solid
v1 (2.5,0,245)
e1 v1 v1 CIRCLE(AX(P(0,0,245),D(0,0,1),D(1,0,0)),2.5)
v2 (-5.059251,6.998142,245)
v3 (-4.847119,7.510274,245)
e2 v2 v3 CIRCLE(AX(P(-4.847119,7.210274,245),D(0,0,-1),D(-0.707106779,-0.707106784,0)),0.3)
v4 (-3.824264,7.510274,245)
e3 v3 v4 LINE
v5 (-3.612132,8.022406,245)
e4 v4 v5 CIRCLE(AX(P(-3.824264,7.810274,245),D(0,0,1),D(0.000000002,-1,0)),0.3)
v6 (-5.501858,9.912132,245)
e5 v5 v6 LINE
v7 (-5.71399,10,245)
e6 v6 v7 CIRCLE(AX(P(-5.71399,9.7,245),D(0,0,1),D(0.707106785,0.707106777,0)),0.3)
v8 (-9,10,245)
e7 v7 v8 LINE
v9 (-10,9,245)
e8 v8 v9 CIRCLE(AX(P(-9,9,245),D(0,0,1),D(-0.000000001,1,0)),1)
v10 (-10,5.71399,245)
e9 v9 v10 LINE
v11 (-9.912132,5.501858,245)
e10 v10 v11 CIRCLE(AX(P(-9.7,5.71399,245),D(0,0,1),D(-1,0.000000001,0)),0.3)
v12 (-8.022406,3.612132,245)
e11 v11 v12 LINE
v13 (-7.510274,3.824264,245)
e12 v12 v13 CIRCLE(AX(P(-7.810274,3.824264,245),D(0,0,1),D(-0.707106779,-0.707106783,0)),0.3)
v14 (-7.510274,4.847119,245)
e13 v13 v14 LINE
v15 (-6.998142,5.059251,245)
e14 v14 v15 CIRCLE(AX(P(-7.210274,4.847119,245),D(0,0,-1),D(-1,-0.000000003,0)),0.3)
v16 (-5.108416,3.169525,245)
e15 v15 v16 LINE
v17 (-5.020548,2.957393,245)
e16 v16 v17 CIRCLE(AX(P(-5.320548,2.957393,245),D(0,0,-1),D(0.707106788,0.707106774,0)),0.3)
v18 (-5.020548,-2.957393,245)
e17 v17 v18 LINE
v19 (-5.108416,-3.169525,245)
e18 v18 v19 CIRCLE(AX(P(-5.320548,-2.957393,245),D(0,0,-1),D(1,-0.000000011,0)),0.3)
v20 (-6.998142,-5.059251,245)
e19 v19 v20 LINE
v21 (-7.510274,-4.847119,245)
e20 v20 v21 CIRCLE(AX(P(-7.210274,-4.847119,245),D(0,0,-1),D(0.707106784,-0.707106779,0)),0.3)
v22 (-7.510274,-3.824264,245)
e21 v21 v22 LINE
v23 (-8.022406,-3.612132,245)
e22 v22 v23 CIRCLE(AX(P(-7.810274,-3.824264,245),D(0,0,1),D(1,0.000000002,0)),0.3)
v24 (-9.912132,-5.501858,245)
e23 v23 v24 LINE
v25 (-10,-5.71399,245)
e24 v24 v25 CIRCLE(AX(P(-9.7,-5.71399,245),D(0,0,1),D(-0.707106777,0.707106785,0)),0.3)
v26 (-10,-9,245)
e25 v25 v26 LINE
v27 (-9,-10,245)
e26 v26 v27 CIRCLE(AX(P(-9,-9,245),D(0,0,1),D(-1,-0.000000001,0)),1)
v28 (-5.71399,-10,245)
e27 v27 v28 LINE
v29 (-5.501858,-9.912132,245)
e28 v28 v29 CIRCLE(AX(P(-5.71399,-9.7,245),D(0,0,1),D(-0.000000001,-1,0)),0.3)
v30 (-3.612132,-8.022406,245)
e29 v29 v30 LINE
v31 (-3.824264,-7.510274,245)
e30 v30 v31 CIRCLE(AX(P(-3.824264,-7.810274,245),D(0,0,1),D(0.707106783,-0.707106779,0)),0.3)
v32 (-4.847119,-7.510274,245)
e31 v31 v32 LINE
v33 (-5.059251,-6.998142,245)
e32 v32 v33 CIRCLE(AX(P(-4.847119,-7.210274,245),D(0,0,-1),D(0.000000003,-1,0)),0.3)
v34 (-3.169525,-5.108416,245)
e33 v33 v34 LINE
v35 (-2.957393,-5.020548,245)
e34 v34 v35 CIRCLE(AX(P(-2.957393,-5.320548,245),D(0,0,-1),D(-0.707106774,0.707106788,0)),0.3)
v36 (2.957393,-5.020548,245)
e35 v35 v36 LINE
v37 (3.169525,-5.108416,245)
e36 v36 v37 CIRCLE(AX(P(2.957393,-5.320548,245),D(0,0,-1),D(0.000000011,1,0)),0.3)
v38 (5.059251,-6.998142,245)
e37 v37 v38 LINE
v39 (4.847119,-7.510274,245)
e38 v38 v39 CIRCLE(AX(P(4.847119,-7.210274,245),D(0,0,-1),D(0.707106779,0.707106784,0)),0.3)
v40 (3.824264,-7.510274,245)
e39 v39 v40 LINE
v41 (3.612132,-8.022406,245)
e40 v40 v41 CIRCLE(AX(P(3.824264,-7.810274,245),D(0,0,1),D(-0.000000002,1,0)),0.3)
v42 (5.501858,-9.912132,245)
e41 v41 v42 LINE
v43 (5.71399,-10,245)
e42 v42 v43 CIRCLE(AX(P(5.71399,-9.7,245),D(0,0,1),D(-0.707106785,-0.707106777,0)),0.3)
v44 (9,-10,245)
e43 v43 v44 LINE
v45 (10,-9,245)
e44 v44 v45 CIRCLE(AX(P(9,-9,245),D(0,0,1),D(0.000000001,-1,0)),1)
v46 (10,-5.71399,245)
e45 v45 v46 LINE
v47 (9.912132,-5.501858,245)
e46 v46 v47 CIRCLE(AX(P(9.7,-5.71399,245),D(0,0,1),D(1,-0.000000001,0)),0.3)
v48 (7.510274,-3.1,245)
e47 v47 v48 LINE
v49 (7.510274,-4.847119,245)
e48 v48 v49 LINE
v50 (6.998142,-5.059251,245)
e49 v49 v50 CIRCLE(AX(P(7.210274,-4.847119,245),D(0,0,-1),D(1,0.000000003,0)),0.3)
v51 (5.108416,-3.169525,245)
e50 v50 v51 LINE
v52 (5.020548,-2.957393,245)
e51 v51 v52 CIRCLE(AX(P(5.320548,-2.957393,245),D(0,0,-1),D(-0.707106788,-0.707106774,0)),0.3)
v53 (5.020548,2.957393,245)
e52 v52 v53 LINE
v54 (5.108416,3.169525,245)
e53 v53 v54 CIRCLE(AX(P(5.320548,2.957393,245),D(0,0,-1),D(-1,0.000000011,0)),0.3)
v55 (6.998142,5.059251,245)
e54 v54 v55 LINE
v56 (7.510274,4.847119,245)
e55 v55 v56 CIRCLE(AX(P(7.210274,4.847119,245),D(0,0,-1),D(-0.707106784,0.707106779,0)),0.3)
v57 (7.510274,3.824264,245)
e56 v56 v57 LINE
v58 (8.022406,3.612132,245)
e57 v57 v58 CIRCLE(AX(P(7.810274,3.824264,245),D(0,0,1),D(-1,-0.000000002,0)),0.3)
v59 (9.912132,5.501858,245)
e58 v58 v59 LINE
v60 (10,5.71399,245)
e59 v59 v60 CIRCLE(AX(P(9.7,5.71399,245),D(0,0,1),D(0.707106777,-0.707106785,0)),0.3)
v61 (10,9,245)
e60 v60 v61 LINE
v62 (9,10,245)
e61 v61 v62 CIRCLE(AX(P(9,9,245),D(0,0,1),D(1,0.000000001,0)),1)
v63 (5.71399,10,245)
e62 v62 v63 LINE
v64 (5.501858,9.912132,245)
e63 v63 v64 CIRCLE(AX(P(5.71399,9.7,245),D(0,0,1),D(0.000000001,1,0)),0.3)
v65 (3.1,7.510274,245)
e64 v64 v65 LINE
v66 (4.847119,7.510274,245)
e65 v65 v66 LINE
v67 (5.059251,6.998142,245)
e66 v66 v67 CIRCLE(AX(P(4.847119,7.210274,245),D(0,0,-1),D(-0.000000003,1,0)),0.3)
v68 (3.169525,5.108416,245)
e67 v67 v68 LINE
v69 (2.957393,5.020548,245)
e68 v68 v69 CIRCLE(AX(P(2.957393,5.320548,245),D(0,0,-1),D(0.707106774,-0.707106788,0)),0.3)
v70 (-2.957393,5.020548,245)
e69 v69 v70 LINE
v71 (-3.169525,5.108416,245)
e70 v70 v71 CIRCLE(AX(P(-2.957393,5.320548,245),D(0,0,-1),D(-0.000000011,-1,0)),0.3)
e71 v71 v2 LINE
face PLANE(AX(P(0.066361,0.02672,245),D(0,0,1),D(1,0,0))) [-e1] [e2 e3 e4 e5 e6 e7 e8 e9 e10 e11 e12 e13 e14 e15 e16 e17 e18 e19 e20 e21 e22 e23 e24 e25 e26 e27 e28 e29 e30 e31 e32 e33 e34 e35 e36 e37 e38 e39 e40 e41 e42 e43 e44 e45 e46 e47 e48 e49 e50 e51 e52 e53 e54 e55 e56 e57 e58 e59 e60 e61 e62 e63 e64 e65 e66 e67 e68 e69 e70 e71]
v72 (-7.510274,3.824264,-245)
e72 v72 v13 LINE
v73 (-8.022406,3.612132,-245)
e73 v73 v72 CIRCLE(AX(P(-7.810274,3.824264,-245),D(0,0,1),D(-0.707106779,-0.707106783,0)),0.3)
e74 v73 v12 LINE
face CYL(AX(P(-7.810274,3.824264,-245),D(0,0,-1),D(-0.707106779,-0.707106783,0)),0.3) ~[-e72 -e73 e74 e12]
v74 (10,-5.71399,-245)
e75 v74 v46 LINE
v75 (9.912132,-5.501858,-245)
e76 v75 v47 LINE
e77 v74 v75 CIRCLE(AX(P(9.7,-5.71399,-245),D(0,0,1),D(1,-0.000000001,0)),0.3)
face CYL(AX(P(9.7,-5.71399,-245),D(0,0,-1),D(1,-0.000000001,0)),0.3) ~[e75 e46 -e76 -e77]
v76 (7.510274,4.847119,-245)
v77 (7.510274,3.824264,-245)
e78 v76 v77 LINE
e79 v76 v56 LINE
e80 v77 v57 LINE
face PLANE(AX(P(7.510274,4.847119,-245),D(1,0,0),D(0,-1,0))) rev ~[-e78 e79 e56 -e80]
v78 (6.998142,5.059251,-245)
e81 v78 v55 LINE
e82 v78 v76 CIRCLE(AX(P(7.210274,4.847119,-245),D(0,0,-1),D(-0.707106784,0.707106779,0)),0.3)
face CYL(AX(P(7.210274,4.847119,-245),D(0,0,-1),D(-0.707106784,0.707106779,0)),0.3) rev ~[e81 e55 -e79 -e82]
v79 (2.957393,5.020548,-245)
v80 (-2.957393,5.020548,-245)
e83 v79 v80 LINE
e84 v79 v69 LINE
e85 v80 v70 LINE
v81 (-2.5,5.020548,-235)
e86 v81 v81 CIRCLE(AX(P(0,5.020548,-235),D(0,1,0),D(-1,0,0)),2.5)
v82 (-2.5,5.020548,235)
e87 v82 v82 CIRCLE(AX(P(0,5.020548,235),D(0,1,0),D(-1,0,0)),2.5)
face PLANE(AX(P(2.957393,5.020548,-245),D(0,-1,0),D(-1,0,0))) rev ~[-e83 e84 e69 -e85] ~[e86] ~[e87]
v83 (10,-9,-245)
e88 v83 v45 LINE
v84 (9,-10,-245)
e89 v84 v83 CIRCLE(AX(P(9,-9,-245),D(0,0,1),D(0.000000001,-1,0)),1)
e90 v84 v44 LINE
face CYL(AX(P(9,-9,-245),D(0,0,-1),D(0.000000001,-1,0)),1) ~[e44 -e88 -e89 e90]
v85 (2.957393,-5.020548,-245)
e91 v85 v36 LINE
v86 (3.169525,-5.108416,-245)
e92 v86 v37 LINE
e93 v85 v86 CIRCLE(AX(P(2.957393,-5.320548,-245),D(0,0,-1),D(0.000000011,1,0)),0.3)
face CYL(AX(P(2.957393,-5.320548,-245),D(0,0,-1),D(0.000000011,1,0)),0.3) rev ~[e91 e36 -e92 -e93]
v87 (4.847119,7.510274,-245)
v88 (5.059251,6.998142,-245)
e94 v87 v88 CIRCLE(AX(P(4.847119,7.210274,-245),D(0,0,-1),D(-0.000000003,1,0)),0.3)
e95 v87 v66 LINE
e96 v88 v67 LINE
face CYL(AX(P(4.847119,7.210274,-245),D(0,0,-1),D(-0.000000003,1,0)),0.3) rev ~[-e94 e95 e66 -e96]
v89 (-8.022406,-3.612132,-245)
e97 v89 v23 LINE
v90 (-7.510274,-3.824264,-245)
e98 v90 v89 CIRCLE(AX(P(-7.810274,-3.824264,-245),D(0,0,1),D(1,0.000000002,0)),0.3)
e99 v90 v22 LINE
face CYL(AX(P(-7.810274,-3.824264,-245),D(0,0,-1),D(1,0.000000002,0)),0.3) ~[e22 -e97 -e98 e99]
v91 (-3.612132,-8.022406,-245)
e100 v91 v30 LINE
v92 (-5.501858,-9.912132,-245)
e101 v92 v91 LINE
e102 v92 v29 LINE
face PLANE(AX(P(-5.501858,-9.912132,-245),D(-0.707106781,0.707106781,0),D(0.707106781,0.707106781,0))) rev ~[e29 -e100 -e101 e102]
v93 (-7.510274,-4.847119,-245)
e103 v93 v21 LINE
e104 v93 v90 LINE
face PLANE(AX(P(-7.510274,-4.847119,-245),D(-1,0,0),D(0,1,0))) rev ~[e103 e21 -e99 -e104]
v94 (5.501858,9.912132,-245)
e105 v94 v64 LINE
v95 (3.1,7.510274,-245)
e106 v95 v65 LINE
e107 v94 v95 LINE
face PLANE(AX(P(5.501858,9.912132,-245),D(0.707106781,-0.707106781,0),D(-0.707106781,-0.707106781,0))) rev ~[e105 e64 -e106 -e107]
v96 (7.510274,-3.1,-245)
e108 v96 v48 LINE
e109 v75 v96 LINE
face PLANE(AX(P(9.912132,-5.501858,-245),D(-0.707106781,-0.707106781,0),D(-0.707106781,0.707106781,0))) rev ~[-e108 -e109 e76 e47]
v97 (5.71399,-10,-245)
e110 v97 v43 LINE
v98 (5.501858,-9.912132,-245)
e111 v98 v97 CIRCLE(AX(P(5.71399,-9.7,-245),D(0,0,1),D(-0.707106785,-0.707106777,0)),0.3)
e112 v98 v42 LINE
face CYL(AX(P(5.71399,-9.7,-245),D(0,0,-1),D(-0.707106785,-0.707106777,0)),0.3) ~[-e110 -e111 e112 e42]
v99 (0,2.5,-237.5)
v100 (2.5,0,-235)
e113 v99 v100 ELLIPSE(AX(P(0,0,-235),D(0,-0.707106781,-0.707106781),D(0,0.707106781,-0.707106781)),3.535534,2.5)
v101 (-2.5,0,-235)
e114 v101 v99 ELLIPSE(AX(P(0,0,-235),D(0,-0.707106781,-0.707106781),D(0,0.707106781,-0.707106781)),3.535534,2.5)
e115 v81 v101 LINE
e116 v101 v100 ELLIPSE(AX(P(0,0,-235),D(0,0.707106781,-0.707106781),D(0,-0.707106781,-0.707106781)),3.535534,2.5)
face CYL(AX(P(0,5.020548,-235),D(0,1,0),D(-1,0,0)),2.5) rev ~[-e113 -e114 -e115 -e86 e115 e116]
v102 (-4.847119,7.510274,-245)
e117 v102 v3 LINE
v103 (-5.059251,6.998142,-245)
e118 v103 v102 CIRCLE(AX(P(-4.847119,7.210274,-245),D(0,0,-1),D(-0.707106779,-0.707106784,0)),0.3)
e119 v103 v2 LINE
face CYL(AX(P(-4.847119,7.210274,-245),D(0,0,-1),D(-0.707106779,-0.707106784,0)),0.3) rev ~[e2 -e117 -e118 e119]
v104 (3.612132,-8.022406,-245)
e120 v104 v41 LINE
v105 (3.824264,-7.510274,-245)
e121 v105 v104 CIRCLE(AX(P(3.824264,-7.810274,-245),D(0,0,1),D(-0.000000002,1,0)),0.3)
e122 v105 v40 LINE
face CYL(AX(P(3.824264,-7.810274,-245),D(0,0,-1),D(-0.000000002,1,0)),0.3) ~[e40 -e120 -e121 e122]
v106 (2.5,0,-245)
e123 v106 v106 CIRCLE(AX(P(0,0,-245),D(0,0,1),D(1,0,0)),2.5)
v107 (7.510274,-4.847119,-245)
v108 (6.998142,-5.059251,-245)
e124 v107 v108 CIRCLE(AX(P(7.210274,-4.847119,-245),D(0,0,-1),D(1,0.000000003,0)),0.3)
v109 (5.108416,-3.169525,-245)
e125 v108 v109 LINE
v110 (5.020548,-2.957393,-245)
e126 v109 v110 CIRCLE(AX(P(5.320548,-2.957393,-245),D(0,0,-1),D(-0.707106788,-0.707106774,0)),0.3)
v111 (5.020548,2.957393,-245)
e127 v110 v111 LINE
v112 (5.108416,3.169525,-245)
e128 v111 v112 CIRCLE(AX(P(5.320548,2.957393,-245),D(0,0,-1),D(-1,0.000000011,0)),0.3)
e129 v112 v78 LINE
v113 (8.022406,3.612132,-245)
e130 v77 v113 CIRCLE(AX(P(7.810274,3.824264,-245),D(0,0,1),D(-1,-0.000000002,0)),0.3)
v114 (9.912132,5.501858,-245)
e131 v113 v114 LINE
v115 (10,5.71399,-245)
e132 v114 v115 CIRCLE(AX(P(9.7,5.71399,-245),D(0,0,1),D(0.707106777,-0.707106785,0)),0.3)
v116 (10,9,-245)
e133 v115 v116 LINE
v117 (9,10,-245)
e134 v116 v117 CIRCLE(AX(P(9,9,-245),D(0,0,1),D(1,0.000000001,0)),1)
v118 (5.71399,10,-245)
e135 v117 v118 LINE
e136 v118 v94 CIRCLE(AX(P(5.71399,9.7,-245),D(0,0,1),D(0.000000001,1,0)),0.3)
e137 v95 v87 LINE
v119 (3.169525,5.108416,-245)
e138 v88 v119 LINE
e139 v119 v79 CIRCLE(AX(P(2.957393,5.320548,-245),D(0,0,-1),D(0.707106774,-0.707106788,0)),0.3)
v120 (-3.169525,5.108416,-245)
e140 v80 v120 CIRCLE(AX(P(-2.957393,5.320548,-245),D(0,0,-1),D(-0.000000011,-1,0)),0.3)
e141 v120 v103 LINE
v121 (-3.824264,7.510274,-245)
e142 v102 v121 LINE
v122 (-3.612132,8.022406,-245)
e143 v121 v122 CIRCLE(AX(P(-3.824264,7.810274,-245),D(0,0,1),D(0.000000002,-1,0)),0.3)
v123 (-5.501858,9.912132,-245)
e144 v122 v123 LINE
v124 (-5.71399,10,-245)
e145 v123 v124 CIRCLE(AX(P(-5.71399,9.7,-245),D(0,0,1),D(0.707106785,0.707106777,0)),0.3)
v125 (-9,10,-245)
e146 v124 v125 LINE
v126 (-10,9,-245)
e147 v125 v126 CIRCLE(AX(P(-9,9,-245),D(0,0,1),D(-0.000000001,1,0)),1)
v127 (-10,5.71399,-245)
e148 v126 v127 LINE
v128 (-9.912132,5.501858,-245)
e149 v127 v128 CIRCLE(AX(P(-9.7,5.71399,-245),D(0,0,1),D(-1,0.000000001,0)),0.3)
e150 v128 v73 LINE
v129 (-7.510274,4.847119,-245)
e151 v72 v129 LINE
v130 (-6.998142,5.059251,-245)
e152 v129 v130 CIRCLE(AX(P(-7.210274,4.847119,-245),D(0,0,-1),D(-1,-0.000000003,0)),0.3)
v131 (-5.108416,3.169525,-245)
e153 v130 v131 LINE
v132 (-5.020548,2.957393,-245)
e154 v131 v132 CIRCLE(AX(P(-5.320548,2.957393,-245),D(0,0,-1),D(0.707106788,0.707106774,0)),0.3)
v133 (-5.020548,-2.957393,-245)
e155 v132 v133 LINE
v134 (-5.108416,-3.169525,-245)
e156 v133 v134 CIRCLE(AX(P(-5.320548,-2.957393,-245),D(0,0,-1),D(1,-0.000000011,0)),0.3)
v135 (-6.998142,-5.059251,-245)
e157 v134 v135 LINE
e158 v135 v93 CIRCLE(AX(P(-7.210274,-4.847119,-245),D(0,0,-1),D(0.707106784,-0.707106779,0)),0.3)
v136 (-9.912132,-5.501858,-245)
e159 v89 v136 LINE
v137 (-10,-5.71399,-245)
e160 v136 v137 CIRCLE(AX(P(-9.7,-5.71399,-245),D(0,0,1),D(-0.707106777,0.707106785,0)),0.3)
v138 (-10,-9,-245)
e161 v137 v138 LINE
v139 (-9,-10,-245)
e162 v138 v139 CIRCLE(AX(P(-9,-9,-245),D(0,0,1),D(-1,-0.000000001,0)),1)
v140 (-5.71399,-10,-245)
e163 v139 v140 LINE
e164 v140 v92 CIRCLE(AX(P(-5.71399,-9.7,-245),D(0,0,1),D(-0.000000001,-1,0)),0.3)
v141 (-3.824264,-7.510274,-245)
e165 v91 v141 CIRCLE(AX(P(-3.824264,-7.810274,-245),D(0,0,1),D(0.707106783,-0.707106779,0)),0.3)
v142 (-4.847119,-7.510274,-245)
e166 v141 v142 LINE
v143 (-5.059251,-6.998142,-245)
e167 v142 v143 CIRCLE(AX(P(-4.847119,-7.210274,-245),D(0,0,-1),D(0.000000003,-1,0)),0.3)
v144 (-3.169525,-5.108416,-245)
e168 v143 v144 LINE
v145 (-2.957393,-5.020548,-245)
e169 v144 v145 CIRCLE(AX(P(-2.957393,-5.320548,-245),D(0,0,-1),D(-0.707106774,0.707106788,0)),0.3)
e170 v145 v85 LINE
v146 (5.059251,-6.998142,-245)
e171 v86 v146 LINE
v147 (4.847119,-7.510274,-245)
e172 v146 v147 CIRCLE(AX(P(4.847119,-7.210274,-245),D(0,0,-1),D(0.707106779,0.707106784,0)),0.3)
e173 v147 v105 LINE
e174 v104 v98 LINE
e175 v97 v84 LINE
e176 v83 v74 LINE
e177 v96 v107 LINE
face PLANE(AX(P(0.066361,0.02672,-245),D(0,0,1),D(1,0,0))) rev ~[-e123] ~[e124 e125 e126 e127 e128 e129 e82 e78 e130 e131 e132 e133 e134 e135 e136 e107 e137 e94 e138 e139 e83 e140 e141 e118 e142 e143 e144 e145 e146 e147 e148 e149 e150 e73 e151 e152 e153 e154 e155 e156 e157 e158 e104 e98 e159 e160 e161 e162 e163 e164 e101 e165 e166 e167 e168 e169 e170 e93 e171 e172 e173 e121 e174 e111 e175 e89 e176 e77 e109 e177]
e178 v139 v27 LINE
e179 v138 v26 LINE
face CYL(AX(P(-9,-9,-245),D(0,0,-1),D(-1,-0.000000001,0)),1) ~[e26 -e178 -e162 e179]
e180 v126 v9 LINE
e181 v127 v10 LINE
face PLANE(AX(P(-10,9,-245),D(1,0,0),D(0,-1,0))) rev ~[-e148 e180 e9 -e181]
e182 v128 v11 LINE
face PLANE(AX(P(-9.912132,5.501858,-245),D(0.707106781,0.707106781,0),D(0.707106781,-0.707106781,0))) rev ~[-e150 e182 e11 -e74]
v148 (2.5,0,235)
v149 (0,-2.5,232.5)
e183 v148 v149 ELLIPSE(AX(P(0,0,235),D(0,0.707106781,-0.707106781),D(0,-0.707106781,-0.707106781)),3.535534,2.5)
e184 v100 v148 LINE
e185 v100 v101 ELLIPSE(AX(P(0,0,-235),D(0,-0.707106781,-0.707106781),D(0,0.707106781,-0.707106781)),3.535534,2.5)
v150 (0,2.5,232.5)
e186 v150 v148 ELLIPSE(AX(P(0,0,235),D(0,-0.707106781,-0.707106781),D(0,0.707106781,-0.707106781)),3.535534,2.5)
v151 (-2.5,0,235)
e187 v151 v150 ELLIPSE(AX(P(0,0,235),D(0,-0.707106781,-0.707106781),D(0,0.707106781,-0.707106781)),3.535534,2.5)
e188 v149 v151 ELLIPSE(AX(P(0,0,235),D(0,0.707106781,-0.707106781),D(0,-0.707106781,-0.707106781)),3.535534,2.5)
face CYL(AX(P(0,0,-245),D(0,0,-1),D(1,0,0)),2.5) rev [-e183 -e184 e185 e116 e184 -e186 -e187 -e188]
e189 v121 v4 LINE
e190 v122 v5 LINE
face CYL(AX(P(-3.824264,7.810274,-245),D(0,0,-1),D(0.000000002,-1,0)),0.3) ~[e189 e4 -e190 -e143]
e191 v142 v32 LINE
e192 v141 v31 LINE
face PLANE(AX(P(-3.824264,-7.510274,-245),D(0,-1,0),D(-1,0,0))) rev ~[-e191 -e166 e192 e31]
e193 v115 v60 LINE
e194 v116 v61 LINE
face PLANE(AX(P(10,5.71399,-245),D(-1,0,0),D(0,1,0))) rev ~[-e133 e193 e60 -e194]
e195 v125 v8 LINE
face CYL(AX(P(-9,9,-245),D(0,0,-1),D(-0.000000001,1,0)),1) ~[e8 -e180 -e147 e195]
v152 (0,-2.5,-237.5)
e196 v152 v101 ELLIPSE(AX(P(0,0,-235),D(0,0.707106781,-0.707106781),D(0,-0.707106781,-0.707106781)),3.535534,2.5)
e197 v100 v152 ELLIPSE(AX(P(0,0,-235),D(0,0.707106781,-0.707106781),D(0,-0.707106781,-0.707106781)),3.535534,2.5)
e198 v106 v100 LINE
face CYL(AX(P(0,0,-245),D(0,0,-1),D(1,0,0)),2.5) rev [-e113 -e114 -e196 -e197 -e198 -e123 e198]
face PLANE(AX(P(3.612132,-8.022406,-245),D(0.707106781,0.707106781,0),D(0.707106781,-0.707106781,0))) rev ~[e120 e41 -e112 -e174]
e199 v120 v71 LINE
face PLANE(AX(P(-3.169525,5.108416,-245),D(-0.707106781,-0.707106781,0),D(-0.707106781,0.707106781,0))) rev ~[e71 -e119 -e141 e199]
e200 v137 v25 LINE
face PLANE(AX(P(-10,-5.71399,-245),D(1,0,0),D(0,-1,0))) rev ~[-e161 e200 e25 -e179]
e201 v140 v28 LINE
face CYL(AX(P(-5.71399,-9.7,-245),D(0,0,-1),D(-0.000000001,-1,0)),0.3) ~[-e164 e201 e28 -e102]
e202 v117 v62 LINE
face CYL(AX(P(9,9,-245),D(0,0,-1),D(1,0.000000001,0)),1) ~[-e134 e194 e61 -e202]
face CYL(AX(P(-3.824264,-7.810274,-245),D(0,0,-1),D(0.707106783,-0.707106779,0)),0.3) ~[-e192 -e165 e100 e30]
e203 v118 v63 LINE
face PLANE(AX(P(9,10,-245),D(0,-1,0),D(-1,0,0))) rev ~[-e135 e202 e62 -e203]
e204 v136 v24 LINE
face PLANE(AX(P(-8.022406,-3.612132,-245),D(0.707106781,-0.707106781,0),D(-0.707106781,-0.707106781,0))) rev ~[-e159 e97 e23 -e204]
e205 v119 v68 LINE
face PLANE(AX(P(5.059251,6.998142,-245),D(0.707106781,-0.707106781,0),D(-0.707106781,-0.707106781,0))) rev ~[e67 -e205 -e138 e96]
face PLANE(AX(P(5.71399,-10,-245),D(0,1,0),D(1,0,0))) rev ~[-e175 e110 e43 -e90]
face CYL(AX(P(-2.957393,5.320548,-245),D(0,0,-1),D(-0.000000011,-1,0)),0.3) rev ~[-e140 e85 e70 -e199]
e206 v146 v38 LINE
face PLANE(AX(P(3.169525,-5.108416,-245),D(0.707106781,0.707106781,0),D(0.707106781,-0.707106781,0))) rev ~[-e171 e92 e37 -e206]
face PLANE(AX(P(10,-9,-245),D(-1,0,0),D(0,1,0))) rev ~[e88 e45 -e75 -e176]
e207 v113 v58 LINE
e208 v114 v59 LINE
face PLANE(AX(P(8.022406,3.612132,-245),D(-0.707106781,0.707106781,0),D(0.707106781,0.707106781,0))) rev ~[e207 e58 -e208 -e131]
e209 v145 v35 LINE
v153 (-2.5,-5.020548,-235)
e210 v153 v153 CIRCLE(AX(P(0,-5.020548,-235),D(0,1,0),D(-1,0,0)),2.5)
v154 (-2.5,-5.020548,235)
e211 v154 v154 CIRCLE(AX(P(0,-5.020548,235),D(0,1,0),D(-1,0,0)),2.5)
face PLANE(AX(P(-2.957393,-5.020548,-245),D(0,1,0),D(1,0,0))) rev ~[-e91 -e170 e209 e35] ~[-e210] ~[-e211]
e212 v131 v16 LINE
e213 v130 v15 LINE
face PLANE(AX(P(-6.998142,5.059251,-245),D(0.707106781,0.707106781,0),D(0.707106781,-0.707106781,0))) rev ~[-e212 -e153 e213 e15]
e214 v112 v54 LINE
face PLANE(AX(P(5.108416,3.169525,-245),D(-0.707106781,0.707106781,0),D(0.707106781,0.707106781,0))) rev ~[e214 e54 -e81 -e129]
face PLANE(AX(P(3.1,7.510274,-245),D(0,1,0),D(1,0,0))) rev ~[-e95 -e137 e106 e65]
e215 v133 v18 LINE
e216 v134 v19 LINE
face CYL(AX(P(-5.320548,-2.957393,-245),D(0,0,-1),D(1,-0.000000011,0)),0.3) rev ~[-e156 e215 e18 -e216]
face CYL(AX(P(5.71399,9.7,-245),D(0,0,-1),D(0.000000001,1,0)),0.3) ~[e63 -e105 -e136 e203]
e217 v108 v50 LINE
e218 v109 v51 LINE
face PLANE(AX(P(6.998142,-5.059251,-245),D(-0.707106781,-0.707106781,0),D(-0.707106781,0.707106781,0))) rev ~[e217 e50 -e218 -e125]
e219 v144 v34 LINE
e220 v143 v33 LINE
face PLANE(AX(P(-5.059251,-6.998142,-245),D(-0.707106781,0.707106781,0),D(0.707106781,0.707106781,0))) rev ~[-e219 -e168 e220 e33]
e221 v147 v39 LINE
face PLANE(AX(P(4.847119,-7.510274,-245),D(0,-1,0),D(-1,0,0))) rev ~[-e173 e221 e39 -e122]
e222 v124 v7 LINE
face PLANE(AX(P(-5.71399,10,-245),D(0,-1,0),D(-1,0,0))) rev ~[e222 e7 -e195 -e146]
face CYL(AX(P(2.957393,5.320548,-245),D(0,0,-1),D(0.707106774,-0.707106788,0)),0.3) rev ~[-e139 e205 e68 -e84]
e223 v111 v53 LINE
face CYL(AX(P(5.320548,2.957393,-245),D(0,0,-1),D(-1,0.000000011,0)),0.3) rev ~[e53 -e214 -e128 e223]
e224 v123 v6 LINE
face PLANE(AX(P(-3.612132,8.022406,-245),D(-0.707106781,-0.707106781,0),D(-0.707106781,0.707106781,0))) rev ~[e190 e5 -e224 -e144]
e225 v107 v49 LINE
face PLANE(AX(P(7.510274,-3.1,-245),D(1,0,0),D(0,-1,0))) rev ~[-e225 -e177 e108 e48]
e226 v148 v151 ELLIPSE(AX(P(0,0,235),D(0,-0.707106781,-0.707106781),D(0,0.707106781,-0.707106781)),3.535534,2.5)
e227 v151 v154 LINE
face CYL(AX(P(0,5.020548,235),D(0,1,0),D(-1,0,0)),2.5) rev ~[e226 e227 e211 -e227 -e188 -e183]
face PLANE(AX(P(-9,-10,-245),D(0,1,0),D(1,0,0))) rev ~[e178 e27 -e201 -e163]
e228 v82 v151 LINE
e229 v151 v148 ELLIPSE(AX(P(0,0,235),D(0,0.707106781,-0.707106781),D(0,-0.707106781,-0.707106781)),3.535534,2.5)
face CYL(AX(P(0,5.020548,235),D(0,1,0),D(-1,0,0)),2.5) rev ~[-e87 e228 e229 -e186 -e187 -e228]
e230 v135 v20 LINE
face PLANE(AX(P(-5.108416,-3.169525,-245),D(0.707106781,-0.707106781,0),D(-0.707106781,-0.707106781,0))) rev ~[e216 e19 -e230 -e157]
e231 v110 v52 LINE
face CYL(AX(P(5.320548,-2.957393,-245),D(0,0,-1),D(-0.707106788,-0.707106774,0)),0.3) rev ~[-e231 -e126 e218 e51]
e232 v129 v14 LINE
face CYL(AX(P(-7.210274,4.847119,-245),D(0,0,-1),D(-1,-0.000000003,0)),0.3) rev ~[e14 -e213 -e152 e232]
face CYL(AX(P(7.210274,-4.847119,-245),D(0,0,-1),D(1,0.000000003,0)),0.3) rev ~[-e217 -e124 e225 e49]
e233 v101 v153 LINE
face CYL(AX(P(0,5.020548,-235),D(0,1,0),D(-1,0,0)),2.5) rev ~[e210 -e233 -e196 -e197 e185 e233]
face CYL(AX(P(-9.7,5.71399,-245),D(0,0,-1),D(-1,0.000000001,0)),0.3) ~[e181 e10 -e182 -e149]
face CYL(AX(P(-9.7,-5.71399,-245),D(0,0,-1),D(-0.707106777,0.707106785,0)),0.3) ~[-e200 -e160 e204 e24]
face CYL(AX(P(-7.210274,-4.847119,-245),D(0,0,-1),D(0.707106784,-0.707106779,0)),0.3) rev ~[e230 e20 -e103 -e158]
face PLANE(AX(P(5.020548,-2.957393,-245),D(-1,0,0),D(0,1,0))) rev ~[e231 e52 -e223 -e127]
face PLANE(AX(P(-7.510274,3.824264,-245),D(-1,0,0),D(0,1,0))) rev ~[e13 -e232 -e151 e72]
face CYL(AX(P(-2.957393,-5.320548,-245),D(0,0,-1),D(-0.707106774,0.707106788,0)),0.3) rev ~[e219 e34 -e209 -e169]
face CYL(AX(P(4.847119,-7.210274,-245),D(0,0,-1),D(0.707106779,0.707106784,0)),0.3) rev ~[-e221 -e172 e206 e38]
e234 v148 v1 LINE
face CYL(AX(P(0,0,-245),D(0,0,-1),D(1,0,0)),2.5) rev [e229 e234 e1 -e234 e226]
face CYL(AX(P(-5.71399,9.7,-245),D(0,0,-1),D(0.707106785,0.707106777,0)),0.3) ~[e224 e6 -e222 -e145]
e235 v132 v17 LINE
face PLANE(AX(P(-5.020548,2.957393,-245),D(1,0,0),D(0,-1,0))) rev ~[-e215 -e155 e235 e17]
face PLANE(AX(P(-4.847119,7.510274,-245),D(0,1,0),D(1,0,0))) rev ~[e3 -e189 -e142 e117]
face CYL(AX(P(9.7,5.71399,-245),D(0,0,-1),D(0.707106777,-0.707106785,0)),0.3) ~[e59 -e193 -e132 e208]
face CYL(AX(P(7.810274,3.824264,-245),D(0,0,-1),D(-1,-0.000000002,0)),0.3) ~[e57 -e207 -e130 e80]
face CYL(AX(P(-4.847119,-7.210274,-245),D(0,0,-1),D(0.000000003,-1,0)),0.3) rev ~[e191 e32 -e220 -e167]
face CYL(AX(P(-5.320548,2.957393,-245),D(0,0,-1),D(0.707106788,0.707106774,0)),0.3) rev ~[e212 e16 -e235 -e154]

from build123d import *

# Parameters (mm, degrees)
CROQUIS11_R                = 2.5
MIEMBRO_ESTRUCTURAL1_DEPTH = 490
CROQUIS12_R                = 2.5
CORTAR_EXTRUIR1_DEPTH      = 12


with BuildPart() as part:
    # Croquis11 → Miembro estructural1 (new body)
    with BuildSketch(Plane.XY.offset(-245)):
        with BuildLine():
            Line((-9, -10), (-5.713990218, -10))
            ThreePointArc((-5.713990218, -10), (-5.599185189, -9.97716386), (-5.501858184, -9.912132034))
            Line((-5.501858184, -9.912132034), (-3.612132034, -8.022405885))
            ThreePointArc((-3.612132034, -8.022405885), (-3.547100209, -7.695468821), (-3.824264069, -7.51027385))
            Line((-3.824264069, -7.51027385), (-4.847118775, -7.51027385))
            ThreePointArc((-4.847118775, -7.51027385), (-5.124282635, -7.32507888), (-5.059250809, -6.998141816))
            Line((-5.059250809, -6.998141816), (-3.16952466, -5.108415666))
            ThreePointArc((-3.16952466, -5.108415666), (-3.072197655, -5.043383841), (-2.957392625, -5.0205477))
            Line((-2.957392625, -5.0205477), (2.957392625, -5.0205477))
            ThreePointArc((2.957392625, -5.0205477), (3.072197655, -5.043383841), (3.16952466, -5.108415666))
            Line((3.16952466, -5.108415666), (5.059250809, -6.998141816))
            ThreePointArc((5.059250809, -6.998141816), (5.124282635, -7.32507888), (4.847118775, -7.51027385))
            Line((4.847118775, -7.51027385), (3.824264069, -7.51027385))
            ThreePointArc((3.824264069, -7.51027385), (3.547100209, -7.695468821), (3.612132034, -8.022405885))
            Line((3.612132034, -8.022405885), (5.501858184, -9.912132034))
            ThreePointArc((5.501858184, -9.912132034), (5.599185189, -9.97716386), (5.713990218, -10))
            Line((5.713990218, -10), (9, -10))
            ThreePointArc((9, -10), (9.707106781, -9.707106781), (10, -9))
            Line((10, -9), (10, -5.713990218))
            ThreePointArc((10, -5.713990218), (9.97716386, -5.599185189), (9.912132034, -5.501858184))
            Line((9.912132034, -5.501858184), (7.51027385, -3.1))
            Line((7.51027385, -3.1), (7.51027385, -4.847118775))
            ThreePointArc((7.51027385, -4.847118775), (7.32507888, -5.124282635), (6.998141816, -5.059250809))
            Line((6.998141816, -5.059250809), (5.108415666, -3.16952466))
            ThreePointArc((5.108415666, -3.16952466), (5.043383841, -3.072197655), (5.0205477, -2.957392625))
            Line((5.0205477, -2.957392625), (5.0205477, 2.957392625))
            ThreePointArc((5.0205477, 2.957392625), (5.043383841, 3.072197655), (5.108415666, 3.16952466))
            Line((5.108415666, 3.16952466), (6.998141816, 5.059250809))
            ThreePointArc((6.998141816, 5.059250809), (7.32507888, 5.124282635), (7.51027385, 4.847118775))
            Line((7.51027385, 4.847118775), (7.51027385, 3.824264069))
            ThreePointArc((7.51027385, 3.824264069), (7.695468821, 3.547100209), (8.022405885, 3.612132034))
            Line((8.022405885, 3.612132034), (9.912132034, 5.501858184))
            ThreePointArc((9.912132034, 5.501858184), (9.97716386, 5.599185189), (10, 5.713990218))
            Line((10, 5.713990218), (10, 9))
            ThreePointArc((10, 9), (9.707106781, 9.707106781), (9, 10))
            Line((9, 10), (5.713990218, 10))
            ThreePointArc((5.713990218, 10), (5.599185189, 9.97716386), (5.501858184, 9.912132034))
            Line((5.501858184, 9.912132034), (3.1, 7.51027385))
            Line((3.1, 7.51027385), (4.847118775, 7.51027385))
            ThreePointArc((4.847118775, 7.51027385), (5.124282635, 7.32507888), (5.059250809, 6.998141816))
            Line((5.059250809, 6.998141816), (3.16952466, 5.108415666))
            ThreePointArc((3.16952466, 5.108415666), (3.072197655, 5.043383841), (2.957392625, 5.0205477))
            Line((2.957392625, 5.0205477), (-2.957392625, 5.0205477))
            ThreePointArc((-2.957392625, 5.0205477), (-3.072197655, 5.043383841), (-3.16952466, 5.108415666))
            Line((-3.16952466, 5.108415666), (-5.059250809, 6.998141816))
            ThreePointArc((-5.059250809, 6.998141816), (-5.124282635, 7.32507888), (-4.847118775, 7.51027385))
            Line((-4.847118775, 7.51027385), (-3.824264069, 7.51027385))
            ThreePointArc((-3.824264069, 7.51027385), (-3.547100209, 7.695468821), (-3.612132034, 8.022405885))
            Line((-3.612132034, 8.022405885), (-5.501858184, 9.912132034))
            ThreePointArc((-5.501858184, 9.912132034), (-5.599185189, 9.97716386), (-5.713990218, 10))
            Line((-5.713990218, 10), (-9, 10))
            ThreePointArc((-9, 10), (-9.707106781, 9.707106781), (-10, 9))
            Line((-10, 9), (-10, 5.713990218))
            ThreePointArc((-10, 5.713990218), (-9.97716386, 5.599185189), (-9.912132034, 5.501858184))
            Line((-9.912132034, 5.501858184), (-8.022405885, 3.612132034))
            ThreePointArc((-8.022405885, 3.612132034), (-7.695468821, 3.547100209), (-7.51027385, 3.824264069))
            Line((-7.51027385, 3.824264069), (-7.51027385, 4.847118775))
            ThreePointArc((-7.51027385, 4.847118775), (-7.32507888, 5.124282635), (-6.998141816, 5.059250809))
            Line((-6.998141816, 5.059250809), (-5.108415666, 3.16952466))
            ThreePointArc((-5.108415666, 3.16952466), (-5.043383841, 3.072197655), (-5.0205477, 2.957392625))
            Line((-5.0205477, 2.957392625), (-5.0205477, -2.957392625))
            ThreePointArc((-5.0205477, -2.957392625), (-5.043383841, -3.072197655), (-5.108415666, -3.16952466))
            Line((-5.108415666, -3.16952466), (-6.998141816, -5.059250809))
            ThreePointArc((-6.998141816, -5.059250809), (-7.32507888, -5.124282635), (-7.51027385, -4.847118775))
            Line((-7.51027385, -4.847118775), (-7.51027385, -3.824264069))
            ThreePointArc((-7.51027385, -3.824264069), (-7.695468821, -3.547100209), (-8.022405885, -3.612132034))
            Line((-8.022405885, -3.612132034), (-9.912132034, -5.501858184))
            ThreePointArc((-9.912132034, -5.501858184), (-9.97716386, -5.599185189), (-10, -5.713990218))
            Line((-10, -5.713990218), (-10, -9))
            ThreePointArc((-10, -9), (-9.707106781, -9.707106781), (-9, -10))
        make_face()
        Circle(CROQUIS11_R, mode=Mode.SUBTRACT)
    extrude(amount=MIEMBRO_ESTRUCTURAL1_DEPTH)

    # Croquis12 → Cortar-Extruir1 (cut)
    with BuildSketch(Plane(origin=(0, 5.0205477, 0), x_dir=(1, 0, 0), z_dir=(0, 1, 0))):
        with Locations(Location((0, 235, 0), (0, 0, 180))):
            Circle(CROQUIS12_R)
        with Locations(Location((0, -235, 0), (0, 0, 180))):
            Circle(CROQUIS12_R)
    extrude(amount=-CORTAR_EXTRUIR1_DEPTH, mode=Mode.SUBTRACT)


solid = part.part
